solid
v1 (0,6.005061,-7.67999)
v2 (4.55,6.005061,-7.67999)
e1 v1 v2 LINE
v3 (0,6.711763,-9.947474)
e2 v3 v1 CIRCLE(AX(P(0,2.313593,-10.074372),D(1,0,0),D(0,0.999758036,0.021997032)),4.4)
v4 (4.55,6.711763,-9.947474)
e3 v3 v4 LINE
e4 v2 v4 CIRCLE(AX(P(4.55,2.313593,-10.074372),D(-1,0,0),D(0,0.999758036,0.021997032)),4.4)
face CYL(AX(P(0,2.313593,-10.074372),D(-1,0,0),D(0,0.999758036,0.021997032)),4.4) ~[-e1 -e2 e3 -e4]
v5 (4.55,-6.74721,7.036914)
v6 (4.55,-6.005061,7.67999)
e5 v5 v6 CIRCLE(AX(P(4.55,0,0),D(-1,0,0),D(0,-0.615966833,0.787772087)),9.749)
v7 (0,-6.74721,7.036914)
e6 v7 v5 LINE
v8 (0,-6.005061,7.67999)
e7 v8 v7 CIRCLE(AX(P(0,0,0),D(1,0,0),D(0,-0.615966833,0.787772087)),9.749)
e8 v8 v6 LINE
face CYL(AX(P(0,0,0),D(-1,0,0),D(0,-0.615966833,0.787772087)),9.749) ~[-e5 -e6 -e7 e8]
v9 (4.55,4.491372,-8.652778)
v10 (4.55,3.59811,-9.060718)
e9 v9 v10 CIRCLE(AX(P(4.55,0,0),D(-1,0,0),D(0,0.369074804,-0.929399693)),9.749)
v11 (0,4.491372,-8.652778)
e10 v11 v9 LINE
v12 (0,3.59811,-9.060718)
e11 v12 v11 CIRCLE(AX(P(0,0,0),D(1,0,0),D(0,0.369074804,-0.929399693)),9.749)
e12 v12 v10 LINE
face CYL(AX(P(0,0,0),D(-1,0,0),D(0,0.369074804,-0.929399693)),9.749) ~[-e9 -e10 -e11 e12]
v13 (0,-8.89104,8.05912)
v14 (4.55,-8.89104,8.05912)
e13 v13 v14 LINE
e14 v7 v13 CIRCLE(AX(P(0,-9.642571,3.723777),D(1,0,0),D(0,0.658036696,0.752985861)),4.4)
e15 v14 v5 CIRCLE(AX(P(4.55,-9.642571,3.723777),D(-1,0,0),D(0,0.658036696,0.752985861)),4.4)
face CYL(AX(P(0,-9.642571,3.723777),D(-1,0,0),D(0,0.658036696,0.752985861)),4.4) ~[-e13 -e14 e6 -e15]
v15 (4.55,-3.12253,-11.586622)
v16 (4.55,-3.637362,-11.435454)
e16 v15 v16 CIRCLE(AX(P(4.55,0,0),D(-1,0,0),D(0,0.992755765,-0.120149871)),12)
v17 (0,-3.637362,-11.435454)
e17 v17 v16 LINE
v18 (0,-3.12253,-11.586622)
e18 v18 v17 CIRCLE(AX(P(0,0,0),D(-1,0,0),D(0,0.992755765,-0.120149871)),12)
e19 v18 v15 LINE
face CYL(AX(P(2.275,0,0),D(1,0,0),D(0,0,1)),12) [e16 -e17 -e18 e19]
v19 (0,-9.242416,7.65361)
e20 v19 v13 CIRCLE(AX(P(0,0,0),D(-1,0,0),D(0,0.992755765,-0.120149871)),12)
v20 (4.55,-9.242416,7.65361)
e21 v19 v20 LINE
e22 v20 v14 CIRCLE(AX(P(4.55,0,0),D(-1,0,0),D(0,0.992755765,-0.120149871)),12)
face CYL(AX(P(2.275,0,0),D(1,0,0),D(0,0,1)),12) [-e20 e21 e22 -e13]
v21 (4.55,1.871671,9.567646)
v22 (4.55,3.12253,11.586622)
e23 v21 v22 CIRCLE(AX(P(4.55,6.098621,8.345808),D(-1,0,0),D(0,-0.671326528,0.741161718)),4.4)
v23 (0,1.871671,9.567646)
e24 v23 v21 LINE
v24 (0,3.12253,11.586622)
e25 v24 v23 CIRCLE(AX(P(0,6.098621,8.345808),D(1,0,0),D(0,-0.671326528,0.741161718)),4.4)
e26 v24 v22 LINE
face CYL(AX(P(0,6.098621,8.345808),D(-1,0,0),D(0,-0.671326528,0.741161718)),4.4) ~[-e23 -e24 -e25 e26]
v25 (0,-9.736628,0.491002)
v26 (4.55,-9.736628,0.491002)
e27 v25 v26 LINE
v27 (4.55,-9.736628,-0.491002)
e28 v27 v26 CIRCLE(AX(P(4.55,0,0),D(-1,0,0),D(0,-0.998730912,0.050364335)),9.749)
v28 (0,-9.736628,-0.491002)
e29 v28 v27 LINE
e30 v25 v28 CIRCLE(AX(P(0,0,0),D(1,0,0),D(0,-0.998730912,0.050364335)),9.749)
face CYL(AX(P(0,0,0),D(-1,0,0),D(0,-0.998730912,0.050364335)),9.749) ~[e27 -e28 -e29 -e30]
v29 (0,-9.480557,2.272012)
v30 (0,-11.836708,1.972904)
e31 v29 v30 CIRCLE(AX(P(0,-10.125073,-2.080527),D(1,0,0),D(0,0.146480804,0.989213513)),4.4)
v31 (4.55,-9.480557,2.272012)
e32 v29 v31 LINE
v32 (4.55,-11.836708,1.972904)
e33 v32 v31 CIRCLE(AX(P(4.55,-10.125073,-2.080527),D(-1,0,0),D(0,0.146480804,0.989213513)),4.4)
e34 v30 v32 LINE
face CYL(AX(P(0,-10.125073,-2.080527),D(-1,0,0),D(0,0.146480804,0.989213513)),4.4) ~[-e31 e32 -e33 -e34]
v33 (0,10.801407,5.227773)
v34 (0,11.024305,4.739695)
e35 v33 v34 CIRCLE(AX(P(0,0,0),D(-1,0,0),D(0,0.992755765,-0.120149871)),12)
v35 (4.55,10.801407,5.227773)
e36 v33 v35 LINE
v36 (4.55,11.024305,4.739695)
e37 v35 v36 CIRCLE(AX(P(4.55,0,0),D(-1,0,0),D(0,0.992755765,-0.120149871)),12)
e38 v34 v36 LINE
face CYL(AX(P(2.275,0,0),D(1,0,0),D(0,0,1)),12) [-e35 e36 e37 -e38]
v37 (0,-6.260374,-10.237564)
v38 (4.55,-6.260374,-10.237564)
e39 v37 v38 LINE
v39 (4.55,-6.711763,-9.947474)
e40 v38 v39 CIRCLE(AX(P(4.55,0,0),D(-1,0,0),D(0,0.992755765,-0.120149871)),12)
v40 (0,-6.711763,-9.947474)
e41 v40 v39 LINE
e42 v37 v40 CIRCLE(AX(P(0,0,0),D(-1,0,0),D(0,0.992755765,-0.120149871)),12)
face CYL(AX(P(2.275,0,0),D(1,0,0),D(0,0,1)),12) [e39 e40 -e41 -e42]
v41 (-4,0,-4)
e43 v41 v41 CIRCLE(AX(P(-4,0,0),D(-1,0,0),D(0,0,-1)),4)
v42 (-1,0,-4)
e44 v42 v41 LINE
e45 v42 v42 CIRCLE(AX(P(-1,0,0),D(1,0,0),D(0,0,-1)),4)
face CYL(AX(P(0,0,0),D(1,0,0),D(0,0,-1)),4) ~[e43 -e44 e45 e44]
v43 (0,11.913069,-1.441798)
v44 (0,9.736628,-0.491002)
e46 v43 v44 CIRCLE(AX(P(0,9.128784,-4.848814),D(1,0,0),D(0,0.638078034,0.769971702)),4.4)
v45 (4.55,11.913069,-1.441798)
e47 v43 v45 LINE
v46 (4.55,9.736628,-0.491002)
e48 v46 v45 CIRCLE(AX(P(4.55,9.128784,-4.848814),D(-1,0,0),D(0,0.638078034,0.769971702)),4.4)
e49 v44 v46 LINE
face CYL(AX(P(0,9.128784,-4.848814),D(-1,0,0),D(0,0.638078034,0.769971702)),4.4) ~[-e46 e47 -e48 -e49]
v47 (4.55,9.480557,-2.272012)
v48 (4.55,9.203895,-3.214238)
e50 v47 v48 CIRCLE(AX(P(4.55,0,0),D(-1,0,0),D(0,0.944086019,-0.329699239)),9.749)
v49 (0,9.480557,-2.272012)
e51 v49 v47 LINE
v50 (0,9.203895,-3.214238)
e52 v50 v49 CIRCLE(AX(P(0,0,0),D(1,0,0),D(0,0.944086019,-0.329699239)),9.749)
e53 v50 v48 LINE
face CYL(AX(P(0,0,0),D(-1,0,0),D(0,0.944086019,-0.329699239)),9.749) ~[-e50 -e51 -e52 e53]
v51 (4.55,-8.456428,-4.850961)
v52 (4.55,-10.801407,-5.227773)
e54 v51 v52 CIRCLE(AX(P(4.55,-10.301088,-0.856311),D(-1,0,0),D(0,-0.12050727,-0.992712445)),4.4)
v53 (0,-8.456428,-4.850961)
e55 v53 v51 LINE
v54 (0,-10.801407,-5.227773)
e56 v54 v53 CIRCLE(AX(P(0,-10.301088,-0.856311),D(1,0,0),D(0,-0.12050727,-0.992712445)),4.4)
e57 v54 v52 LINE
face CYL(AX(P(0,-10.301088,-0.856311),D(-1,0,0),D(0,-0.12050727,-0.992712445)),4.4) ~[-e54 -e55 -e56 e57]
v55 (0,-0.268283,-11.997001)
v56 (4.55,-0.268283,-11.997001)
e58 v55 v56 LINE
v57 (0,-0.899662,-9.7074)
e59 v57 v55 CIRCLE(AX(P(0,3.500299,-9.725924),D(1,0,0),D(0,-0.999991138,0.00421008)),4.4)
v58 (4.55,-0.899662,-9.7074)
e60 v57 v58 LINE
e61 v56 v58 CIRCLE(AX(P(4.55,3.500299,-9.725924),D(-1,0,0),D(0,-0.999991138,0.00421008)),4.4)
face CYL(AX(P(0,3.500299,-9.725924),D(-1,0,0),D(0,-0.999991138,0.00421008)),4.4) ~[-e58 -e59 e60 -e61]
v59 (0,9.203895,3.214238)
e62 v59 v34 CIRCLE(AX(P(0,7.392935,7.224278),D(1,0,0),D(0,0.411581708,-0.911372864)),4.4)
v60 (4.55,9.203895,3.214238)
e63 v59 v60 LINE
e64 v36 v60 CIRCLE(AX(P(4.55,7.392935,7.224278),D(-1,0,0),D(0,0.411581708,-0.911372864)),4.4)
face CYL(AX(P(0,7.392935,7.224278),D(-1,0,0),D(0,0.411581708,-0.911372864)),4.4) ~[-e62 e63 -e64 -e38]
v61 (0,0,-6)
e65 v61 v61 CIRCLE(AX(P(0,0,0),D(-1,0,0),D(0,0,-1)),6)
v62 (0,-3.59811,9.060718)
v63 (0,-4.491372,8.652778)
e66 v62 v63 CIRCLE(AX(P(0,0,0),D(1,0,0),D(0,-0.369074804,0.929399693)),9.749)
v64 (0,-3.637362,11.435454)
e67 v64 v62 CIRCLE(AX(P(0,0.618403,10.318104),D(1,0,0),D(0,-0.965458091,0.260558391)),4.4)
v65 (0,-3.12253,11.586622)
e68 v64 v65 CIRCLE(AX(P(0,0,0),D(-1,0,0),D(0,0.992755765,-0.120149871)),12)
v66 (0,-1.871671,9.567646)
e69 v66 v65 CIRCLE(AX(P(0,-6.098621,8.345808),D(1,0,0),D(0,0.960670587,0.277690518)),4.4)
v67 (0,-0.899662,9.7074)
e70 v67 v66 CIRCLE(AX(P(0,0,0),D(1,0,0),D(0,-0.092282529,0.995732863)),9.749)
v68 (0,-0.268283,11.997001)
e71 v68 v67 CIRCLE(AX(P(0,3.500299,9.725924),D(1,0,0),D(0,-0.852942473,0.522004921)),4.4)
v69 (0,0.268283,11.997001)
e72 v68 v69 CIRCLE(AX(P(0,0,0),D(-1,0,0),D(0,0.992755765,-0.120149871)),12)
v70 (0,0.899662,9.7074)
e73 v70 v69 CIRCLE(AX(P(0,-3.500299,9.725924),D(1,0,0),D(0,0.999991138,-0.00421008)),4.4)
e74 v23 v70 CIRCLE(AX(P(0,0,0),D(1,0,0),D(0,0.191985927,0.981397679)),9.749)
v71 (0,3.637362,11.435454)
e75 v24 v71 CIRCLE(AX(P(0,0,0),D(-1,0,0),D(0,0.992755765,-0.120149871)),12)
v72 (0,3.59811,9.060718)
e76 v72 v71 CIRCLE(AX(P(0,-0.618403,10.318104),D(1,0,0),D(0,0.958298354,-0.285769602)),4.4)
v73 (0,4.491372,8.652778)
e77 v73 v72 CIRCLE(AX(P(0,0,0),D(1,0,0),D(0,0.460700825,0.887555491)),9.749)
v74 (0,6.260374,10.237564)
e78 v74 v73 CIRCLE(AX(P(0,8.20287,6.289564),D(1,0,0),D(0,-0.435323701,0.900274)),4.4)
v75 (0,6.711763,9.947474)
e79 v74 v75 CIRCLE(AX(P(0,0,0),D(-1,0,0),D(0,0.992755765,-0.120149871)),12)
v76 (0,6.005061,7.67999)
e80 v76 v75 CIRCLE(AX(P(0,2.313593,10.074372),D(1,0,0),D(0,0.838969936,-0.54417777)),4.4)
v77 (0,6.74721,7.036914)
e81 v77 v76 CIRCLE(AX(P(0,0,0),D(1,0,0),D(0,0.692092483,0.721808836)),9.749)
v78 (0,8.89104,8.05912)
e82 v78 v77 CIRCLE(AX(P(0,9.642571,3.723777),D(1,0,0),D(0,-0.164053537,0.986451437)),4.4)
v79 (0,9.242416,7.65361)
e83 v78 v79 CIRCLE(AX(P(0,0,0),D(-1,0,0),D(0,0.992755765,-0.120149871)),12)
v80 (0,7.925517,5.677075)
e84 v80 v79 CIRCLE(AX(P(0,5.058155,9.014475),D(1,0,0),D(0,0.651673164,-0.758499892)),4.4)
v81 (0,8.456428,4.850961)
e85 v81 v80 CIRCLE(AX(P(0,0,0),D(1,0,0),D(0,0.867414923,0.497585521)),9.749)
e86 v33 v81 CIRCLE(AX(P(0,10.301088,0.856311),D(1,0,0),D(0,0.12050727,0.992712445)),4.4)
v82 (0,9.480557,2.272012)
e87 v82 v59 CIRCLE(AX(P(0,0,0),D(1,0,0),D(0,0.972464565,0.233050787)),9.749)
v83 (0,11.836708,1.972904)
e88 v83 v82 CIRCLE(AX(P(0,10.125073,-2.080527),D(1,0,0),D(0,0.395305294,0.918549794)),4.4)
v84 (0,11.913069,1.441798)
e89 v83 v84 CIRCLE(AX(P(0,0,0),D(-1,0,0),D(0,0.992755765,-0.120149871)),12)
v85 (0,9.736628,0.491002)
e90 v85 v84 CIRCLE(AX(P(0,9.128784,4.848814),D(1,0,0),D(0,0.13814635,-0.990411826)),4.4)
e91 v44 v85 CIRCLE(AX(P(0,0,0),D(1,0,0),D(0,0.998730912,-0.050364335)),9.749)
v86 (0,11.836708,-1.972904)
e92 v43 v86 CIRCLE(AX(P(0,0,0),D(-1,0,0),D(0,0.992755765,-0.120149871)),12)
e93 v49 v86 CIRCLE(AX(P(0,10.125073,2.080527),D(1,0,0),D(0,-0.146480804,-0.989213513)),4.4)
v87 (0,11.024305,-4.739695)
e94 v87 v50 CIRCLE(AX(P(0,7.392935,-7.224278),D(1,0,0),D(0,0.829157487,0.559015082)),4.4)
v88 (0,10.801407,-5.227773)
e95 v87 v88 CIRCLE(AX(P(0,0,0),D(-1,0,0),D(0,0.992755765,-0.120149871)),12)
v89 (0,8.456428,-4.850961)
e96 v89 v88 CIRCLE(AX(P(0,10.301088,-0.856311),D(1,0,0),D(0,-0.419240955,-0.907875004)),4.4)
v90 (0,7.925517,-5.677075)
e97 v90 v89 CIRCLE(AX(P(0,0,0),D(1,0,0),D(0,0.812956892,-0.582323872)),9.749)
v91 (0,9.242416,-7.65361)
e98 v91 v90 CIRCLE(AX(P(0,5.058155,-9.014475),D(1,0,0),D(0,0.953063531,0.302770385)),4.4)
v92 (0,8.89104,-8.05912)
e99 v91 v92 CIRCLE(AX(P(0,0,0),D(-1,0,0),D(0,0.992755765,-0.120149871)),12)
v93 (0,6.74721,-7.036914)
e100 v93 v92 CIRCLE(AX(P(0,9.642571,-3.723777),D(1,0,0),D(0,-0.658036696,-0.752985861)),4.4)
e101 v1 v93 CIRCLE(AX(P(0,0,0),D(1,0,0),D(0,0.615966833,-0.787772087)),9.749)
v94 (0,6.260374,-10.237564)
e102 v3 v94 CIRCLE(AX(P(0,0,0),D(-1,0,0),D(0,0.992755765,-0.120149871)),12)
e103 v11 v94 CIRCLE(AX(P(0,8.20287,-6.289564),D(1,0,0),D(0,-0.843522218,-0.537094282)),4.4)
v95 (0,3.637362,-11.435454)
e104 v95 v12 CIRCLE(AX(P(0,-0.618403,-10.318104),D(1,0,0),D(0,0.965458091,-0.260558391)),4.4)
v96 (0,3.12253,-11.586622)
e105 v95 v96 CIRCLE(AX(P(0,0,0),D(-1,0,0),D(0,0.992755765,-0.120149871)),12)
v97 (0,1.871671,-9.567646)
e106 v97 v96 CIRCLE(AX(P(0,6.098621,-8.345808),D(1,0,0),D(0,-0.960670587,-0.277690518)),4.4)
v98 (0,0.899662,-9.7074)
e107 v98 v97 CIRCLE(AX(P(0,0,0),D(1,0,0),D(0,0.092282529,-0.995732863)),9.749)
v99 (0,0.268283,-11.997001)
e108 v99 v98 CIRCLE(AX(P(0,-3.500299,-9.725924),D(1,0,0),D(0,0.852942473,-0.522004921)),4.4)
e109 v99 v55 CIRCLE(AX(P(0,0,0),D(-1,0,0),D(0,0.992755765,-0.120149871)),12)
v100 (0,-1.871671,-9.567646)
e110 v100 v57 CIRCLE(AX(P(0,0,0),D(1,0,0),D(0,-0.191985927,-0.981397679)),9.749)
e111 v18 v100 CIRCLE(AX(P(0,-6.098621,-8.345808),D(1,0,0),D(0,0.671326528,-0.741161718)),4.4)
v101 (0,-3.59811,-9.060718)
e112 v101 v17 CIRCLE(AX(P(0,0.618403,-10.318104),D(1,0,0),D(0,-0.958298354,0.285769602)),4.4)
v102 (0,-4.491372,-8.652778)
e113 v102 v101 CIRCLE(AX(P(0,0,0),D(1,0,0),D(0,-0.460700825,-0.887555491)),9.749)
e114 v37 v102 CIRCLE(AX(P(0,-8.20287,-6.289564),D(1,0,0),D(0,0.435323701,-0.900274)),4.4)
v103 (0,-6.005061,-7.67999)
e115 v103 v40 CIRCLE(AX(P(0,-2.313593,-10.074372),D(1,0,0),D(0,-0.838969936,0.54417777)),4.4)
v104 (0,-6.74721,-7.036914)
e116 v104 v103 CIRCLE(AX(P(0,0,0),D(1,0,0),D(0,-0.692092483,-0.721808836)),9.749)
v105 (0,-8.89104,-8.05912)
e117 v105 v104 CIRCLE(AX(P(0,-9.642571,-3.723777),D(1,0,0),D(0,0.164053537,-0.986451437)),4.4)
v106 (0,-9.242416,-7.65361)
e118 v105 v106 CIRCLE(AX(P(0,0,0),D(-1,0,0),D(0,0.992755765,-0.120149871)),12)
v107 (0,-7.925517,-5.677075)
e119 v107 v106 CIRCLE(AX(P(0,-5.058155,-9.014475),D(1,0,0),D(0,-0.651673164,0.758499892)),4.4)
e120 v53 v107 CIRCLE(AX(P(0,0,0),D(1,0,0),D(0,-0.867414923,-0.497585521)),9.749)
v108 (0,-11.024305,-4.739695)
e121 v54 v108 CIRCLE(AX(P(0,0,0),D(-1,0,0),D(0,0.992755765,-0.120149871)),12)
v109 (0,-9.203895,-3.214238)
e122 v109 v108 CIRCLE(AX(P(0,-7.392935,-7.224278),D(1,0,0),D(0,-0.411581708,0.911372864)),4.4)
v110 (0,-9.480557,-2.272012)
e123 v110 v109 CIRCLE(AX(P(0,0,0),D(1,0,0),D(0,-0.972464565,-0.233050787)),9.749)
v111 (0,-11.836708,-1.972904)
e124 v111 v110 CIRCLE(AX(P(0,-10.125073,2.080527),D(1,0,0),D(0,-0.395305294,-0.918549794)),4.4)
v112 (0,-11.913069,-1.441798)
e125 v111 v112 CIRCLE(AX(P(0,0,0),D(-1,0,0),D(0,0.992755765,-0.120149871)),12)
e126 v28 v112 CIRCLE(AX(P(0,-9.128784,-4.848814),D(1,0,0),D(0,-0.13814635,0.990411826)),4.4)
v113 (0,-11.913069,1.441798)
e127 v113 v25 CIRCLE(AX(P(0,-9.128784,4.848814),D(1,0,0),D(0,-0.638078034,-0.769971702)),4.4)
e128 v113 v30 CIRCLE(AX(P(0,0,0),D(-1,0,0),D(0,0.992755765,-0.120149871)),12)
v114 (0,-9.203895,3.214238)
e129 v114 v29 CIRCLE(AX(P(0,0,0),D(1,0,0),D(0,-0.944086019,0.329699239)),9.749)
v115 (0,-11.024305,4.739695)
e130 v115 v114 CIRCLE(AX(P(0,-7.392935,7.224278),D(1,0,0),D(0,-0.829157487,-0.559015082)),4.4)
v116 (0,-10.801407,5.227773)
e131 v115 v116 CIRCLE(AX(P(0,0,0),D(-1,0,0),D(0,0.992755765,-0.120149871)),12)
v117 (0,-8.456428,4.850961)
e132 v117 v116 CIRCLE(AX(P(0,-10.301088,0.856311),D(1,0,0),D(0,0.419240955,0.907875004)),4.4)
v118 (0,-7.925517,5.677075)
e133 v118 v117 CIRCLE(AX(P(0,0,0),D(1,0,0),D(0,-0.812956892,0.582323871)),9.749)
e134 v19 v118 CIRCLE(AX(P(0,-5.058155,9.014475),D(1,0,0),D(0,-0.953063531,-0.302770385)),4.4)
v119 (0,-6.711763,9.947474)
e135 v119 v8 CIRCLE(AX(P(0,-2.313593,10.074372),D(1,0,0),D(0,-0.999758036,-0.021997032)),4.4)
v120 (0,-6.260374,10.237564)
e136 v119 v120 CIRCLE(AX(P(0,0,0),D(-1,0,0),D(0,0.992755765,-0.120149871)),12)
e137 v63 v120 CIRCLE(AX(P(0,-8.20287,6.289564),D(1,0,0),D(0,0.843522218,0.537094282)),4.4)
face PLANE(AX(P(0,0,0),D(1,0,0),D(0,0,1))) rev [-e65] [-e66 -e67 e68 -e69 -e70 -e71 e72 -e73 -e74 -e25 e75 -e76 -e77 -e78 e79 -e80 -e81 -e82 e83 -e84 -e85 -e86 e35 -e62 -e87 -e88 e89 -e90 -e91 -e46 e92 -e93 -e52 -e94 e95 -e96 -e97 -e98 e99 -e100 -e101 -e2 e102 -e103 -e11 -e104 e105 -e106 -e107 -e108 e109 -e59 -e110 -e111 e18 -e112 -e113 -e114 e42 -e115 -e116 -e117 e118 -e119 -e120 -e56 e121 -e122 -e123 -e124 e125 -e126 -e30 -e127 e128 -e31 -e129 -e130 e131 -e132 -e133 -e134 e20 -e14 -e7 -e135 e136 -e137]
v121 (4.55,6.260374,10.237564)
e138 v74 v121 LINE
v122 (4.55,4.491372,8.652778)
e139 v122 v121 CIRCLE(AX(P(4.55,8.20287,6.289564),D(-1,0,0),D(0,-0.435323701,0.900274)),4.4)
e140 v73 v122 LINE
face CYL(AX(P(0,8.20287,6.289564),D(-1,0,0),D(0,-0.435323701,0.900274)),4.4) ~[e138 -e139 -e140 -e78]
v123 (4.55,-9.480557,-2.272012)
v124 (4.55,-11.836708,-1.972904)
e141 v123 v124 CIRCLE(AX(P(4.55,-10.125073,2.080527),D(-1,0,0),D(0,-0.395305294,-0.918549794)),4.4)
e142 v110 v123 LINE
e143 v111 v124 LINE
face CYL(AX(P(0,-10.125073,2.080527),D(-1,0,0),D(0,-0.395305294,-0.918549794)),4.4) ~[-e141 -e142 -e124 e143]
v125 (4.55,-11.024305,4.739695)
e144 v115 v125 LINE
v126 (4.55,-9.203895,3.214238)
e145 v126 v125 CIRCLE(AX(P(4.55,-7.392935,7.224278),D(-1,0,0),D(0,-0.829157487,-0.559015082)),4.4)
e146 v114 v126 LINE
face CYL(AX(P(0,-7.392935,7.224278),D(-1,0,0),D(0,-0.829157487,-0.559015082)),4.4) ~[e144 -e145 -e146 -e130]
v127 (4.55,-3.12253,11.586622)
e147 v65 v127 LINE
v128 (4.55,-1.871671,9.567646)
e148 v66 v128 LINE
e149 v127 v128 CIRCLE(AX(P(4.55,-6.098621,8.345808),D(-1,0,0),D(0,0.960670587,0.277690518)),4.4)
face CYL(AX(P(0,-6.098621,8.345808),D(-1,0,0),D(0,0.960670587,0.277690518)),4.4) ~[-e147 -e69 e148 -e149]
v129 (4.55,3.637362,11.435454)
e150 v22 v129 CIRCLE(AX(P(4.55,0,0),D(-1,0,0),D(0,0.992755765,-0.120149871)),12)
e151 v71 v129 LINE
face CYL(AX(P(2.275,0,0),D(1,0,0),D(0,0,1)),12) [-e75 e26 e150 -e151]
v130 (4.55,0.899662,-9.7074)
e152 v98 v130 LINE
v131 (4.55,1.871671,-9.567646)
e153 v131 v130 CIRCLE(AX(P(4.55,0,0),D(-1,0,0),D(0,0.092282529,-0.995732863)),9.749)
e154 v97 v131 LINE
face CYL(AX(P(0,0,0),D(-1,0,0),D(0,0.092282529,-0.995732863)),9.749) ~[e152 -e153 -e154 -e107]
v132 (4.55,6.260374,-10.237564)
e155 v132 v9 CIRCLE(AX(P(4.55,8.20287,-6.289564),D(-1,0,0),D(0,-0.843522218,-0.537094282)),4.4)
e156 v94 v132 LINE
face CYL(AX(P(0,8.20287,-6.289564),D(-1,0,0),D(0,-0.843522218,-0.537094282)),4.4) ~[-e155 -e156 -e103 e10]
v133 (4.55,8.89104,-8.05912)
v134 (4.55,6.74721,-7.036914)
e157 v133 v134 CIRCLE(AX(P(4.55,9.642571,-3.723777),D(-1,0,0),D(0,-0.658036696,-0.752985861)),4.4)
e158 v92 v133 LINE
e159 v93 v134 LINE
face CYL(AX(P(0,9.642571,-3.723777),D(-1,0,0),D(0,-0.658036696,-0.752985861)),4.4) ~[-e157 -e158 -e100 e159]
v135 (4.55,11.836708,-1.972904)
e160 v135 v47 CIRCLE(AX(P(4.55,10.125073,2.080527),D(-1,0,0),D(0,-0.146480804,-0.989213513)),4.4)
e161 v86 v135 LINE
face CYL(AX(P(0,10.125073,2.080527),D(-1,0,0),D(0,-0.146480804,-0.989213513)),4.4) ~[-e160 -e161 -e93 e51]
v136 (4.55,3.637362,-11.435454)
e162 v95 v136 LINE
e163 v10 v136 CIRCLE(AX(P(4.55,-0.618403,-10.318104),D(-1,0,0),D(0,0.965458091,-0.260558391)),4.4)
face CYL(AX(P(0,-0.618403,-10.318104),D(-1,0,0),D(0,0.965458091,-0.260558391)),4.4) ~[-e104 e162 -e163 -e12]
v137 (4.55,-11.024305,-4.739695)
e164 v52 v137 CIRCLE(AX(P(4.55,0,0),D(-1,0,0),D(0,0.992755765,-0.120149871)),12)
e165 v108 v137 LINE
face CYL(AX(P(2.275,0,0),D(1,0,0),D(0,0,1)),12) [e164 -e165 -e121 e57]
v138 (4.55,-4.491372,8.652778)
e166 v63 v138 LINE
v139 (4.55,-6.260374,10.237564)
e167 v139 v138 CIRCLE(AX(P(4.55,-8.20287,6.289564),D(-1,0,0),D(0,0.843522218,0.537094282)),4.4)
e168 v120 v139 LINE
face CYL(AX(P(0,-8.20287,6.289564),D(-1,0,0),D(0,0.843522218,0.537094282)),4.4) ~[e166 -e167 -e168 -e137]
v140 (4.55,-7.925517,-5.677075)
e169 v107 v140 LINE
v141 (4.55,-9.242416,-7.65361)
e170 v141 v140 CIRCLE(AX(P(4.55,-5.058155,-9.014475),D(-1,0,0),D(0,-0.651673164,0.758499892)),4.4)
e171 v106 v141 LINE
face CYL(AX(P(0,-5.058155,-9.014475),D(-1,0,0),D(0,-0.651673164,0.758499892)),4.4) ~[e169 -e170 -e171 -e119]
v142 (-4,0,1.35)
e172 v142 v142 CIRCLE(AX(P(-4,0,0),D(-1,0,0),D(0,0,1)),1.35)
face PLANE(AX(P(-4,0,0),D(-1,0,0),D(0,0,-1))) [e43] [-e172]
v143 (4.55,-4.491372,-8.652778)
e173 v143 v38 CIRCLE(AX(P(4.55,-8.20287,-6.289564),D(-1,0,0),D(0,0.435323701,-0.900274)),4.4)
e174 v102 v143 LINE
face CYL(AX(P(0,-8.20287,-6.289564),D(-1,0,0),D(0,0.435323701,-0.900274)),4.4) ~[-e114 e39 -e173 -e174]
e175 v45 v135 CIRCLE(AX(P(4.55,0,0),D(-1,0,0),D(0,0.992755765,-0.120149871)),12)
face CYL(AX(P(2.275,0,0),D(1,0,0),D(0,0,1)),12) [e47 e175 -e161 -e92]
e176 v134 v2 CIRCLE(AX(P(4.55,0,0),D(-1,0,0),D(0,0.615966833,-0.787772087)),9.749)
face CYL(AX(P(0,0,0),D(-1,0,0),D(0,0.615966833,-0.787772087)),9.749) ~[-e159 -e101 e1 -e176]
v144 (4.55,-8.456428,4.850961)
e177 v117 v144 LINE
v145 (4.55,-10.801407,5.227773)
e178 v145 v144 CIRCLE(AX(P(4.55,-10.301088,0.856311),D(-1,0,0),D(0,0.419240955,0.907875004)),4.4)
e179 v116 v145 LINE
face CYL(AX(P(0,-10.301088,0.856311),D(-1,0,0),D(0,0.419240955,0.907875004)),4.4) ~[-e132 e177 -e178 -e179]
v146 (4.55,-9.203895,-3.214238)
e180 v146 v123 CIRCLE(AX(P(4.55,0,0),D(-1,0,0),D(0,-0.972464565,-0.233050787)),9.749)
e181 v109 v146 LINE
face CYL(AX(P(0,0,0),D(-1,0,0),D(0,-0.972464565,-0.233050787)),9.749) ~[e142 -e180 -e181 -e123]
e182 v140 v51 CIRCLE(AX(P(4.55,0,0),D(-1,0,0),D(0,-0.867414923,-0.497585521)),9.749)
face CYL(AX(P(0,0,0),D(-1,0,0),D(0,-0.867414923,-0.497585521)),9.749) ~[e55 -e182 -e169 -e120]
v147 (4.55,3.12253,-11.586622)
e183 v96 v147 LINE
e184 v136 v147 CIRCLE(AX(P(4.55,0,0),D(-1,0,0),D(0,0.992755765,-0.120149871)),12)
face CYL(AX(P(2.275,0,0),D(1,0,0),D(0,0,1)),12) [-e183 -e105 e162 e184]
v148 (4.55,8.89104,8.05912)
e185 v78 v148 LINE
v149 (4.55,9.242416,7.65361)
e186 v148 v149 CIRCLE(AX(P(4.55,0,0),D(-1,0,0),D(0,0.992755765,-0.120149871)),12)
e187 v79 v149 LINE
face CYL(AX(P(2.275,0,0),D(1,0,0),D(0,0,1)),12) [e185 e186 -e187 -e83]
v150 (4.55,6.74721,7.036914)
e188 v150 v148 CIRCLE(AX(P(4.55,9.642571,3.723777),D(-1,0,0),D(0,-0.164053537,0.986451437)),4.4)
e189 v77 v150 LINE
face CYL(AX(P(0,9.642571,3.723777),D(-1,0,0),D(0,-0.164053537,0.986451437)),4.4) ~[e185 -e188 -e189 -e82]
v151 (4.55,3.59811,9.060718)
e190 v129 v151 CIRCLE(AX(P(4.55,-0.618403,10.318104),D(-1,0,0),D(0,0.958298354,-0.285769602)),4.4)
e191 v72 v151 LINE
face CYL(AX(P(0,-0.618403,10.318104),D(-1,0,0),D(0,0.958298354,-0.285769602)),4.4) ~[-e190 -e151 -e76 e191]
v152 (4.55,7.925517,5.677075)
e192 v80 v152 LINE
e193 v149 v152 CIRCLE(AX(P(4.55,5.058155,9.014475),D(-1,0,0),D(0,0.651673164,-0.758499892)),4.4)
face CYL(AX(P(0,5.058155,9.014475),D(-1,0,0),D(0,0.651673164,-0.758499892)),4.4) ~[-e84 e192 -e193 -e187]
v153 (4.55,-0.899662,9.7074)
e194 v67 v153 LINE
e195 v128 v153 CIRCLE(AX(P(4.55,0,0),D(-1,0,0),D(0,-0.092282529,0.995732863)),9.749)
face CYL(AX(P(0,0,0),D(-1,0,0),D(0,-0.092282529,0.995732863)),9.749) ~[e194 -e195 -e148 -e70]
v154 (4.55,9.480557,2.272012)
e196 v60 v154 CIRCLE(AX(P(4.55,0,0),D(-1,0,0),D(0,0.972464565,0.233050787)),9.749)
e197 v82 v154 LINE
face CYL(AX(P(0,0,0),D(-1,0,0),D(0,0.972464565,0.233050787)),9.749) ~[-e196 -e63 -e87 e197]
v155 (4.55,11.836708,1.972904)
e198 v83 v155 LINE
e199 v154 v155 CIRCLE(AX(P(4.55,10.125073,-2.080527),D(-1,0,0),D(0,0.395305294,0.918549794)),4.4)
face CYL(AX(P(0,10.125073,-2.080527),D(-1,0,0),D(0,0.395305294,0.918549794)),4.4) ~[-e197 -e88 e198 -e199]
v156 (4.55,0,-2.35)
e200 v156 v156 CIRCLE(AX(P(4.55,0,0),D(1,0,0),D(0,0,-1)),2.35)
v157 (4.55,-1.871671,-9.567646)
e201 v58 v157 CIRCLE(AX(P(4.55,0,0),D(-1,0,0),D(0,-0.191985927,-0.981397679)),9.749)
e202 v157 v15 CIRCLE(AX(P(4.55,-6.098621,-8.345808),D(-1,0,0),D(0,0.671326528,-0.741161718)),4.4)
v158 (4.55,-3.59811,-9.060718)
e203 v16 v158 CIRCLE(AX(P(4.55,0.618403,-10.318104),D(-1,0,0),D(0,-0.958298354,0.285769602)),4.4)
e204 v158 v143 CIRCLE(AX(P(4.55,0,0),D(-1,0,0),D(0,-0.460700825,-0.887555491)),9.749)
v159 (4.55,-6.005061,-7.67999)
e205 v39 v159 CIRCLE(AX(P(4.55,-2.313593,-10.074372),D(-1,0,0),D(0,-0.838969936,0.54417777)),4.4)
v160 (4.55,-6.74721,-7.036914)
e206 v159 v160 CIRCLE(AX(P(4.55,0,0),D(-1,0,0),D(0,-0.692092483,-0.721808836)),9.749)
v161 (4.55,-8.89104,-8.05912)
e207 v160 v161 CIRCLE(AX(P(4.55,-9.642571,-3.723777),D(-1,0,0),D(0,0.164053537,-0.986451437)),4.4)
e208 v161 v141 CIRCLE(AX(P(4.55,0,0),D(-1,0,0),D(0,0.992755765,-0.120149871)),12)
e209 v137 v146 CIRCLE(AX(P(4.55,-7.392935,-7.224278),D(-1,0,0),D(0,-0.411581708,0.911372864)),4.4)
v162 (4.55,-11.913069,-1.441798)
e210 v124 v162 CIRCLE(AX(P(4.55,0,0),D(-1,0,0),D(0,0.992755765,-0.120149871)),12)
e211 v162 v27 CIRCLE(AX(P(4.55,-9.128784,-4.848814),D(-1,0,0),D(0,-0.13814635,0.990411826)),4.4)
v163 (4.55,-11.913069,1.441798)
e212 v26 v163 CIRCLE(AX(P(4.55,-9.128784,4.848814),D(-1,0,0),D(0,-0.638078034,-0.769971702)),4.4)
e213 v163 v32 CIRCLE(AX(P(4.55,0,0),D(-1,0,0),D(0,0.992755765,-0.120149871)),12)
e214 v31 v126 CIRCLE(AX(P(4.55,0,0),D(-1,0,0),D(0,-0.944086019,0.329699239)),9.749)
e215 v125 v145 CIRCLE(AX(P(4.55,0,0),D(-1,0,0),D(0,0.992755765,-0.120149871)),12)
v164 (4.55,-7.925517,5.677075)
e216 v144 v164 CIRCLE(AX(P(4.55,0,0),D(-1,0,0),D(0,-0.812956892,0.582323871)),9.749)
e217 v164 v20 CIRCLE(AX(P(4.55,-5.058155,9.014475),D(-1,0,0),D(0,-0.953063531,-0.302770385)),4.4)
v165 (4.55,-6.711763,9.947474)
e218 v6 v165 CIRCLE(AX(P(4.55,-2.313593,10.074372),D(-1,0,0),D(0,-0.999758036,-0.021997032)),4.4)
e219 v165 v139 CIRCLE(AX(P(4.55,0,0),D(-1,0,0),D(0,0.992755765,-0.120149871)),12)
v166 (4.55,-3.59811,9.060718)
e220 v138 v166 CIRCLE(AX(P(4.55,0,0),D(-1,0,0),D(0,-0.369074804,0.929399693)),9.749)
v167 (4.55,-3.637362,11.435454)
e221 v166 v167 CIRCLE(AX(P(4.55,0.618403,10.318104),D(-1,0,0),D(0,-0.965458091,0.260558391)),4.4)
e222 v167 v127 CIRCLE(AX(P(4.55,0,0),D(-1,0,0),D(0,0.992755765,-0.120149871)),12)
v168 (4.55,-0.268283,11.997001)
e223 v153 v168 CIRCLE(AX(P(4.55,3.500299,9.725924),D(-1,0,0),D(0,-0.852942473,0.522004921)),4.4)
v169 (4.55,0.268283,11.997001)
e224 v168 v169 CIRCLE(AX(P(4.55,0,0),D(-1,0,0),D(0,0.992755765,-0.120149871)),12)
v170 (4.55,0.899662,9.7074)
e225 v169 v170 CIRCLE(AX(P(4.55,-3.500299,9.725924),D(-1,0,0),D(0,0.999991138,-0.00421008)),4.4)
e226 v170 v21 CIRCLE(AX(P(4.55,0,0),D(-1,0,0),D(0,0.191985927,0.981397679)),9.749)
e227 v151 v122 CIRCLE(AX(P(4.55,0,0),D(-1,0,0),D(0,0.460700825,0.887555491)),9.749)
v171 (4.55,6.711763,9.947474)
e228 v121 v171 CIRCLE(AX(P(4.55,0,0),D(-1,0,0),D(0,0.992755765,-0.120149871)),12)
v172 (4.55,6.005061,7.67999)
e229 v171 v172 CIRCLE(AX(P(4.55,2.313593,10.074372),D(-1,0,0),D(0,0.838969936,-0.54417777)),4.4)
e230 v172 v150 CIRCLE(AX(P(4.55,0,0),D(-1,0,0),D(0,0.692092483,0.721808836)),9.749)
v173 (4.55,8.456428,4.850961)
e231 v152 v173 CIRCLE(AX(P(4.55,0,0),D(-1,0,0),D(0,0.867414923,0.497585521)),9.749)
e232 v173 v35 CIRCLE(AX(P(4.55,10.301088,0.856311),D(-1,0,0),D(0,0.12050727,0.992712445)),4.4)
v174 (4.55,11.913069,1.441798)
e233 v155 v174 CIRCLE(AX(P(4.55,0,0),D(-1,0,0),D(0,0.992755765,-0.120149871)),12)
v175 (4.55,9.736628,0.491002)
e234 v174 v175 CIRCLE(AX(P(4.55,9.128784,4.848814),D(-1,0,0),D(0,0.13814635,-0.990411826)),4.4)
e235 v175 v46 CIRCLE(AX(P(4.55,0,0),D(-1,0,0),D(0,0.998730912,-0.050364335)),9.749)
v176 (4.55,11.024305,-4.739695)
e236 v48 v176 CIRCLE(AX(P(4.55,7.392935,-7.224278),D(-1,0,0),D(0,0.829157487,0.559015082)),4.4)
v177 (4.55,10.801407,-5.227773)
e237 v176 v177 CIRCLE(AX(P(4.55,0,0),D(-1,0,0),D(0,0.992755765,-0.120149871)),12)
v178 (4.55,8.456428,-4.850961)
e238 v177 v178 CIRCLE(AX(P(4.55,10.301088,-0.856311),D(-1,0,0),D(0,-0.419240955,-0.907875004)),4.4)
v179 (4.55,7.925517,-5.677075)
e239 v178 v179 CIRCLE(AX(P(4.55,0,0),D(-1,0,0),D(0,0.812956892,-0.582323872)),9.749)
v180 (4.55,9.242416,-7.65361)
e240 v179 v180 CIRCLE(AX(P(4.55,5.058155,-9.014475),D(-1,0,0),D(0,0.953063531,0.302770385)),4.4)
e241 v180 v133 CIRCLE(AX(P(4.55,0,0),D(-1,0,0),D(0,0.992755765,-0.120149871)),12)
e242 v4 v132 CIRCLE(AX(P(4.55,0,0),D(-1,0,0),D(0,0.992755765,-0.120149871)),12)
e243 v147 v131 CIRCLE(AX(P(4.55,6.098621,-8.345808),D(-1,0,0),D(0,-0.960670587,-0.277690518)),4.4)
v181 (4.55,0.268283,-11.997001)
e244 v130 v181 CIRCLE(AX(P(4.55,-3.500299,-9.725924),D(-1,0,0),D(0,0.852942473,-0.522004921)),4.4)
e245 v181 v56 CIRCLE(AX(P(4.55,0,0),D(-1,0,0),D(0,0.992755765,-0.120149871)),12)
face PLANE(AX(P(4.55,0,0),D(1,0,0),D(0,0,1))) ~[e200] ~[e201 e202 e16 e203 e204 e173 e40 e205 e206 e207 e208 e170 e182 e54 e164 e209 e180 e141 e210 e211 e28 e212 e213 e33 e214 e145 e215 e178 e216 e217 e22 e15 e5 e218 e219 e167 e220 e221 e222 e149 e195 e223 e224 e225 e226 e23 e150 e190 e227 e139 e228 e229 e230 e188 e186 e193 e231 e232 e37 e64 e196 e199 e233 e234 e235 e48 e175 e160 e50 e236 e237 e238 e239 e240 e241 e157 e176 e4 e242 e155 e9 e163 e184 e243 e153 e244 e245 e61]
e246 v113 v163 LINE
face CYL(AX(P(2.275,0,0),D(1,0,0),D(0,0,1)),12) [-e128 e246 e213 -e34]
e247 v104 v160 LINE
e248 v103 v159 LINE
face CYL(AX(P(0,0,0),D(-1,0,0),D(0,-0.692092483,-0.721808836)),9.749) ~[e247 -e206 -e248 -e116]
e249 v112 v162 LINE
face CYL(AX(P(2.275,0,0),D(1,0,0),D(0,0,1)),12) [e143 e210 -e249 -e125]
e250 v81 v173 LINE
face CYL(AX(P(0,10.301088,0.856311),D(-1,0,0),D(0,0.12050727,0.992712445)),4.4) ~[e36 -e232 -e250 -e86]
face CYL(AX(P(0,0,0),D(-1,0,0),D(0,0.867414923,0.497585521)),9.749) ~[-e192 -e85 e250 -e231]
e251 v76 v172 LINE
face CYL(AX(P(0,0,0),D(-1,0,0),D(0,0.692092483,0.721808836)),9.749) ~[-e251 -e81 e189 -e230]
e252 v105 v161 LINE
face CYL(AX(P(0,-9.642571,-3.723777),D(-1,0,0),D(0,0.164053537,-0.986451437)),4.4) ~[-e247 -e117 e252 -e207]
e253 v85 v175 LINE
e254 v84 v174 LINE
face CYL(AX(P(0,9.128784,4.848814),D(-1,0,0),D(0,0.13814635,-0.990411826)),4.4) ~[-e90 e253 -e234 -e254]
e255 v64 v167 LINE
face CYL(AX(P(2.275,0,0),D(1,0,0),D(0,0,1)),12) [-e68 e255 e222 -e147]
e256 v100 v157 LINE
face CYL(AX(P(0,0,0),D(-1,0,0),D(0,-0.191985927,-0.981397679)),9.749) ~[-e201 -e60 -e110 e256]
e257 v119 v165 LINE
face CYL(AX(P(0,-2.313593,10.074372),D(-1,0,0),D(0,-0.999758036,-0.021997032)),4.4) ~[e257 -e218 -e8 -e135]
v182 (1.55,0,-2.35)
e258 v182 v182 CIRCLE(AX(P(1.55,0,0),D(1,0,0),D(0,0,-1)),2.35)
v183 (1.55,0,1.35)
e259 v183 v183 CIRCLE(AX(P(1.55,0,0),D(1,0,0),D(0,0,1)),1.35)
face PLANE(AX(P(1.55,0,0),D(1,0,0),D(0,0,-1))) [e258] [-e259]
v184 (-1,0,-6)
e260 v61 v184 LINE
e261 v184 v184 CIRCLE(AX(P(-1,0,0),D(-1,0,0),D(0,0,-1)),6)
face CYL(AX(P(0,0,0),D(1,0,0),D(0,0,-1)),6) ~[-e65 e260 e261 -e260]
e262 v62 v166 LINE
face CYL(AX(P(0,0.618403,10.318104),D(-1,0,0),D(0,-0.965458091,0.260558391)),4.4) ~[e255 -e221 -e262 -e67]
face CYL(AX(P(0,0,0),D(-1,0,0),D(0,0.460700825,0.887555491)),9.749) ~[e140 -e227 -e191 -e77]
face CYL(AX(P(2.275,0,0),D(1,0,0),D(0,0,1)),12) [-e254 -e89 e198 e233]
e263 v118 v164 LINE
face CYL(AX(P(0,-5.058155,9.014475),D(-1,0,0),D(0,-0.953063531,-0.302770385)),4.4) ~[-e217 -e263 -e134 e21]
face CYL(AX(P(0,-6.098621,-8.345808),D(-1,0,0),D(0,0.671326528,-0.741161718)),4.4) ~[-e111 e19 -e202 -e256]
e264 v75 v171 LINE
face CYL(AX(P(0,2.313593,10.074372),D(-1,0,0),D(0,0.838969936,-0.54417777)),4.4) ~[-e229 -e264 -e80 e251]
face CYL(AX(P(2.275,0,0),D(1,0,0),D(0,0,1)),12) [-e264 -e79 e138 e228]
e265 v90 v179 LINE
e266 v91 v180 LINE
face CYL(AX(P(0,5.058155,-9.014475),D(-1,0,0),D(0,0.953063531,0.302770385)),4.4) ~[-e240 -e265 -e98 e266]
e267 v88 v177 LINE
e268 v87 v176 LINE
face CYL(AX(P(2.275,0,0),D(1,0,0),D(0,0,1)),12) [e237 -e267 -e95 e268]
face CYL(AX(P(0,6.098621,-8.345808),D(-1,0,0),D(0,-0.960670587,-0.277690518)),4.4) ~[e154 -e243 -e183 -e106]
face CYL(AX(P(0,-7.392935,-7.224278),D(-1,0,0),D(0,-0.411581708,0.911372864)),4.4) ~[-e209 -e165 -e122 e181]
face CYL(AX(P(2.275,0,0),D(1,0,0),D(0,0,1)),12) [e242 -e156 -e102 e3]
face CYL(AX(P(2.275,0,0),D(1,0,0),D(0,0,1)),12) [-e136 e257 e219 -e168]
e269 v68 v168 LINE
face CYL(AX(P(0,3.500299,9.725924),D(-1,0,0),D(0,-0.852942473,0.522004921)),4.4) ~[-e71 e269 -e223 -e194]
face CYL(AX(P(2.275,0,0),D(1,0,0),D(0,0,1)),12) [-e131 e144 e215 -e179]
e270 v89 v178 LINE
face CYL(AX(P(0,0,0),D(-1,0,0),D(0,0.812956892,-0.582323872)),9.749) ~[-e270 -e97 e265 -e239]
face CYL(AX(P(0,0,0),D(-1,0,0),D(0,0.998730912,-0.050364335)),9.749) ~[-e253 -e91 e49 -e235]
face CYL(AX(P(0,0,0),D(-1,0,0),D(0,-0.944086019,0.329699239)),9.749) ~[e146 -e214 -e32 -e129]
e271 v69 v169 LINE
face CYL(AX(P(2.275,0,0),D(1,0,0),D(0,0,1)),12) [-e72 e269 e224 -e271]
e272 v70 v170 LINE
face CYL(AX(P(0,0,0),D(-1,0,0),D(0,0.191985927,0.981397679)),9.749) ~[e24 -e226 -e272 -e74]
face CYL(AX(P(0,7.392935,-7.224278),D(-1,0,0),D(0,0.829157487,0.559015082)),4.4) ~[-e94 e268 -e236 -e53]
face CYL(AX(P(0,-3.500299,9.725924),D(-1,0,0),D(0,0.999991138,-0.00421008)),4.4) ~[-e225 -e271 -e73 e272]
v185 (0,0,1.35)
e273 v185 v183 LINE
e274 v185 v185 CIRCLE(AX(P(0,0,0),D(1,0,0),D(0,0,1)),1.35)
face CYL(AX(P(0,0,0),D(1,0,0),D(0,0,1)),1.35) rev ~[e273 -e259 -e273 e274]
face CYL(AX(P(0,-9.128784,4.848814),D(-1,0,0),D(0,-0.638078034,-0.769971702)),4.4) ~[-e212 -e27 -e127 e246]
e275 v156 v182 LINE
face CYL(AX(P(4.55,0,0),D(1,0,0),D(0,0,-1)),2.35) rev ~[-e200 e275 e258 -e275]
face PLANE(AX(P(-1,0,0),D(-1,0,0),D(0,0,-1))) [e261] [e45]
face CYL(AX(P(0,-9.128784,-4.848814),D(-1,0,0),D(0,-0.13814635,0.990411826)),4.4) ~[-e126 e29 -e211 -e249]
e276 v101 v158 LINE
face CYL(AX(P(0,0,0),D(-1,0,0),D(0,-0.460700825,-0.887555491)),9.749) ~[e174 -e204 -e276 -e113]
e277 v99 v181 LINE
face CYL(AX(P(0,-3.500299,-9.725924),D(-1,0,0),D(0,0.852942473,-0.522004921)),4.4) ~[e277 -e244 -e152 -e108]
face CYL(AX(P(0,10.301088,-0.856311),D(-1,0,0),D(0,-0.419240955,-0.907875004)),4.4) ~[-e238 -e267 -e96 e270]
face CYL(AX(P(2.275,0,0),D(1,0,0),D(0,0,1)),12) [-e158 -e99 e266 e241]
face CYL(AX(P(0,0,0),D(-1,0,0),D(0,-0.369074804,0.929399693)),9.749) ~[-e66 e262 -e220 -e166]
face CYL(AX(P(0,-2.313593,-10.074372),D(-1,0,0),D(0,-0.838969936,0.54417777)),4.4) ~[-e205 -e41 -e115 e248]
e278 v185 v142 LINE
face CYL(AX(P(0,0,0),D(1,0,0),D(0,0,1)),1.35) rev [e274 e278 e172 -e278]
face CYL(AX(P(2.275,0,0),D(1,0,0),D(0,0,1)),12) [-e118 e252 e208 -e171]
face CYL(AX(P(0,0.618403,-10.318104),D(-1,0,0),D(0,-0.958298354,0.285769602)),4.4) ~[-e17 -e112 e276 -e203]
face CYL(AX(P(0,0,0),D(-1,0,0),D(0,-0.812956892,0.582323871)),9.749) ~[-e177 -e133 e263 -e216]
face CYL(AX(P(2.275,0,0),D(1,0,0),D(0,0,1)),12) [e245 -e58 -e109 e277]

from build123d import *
from build123d.topology import SkipClean

# Parameters (mm, degrees)
BASPROSKE_W         = 4.55
BASPROSKE_H         = 12
TOOTHCUT_DEPTH      = 18.569931702
TEETHCUTS_COUNT     = 22
TEETHCUTS_ANGLE     = 343.636363636
BORSKE_R            = 1.35
BORE_DEPTH          = 50.0000508
SKETCH1_R           = 4
SKETCH1_R_2         = 1.35
BOSS_EXTRUDE1_DEPTH = 4
SKETCH1_4_R         = 6
SKETCH1_4_R_2       = 4
BOSS_EXTRUDE2_DEPTH = 1
SKETCH2_2_R         = 2.35
CUT_EXTRUDE1_DEPTH  = 3


with BuildPart() as part:
    # BasProSke → Base-Revolve (revolve)
    with BuildSketch(Plane(origin=(0, 0, 0), x_dir=(1, 0, 0), z_dir=(0, 1, 0))):
        with Locations((2.275, 6)):
            Rectangle(BASPROSKE_W, BASPROSKE_H)
    revolve(axis=Axis((-10, 0, 0), (1, 0, 0)))

    # TooCutSke → ToothCut (cut, through all)
    with BuildSketch(Plane(origin=(0, 0, 0), x_dir=(0, 0, -1), z_dir=(1, 0, 0))):
        with BuildLine():
            ThreePointArc((0.491001901, 9.736627657), (0, 9.749), (-0.491001901, 9.736627657))
            ThreePointArc((-0.491001901, 9.736627657), (-0.822824844, 10.904005344), (-1.46093845, 11.936327074))
            ThreePointArc((-1.46093845, 11.936327074), (0, 12.0254), (1.46093845, 11.936327074))
            ThreePointArc((1.46093845, 11.936327074), (0.822824844, 10.904005344), (0.491001901, 9.736627657))
        make_face()
    toothcut = extrude(amount=TOOTHCUT_DEPTH, mode=Mode.SUBTRACT)

    # TeethCuts: ToothCut ×22 about axis
    teethcuts_axis = Axis((-10, 0, 0), (1, 0, 0))
    for i in range(1, TEETHCUTS_COUNT):
        add(toothcut.rotate(teethcuts_axis, i * TEETHCUTS_ANGLE / (TEETHCUTS_COUNT - 1)), mode=Mode.SUBTRACT)

    # BorSke → Bore (cut, symmetric)
    with BuildSketch(Plane(origin=(0, 0, 0), x_dir=(0, 0, -1), z_dir=(1, 0, 0))):
        Circle(BORSKE_R)
    extrude(amount=BORE_DEPTH, both=True, mode=Mode.SUBTRACT)

    # Sketch1 → Boss-Extrude1 (add)
    with SkipClean():  # the faces are left unmerged after this step: merging them gives an invalid solid
        with BuildSketch(Plane.ZY):
            Circle(SKETCH1_R)
            Circle(SKETCH1_R_2, mode=Mode.SUBTRACT)
        extrude(amount=BOSS_EXTRUDE1_DEPTH)

    # Sketch1<4> → Boss-Extrude2 (add)
    with SkipClean():  # the faces are left unmerged after this step: merging them gives an invalid solid
        with BuildSketch(Plane.ZY):
            Circle(SKETCH1_4_R)
            Circle(SKETCH1_4_R_2, mode=Mode.SUBTRACT)
        extrude(amount=BOSS_EXTRUDE2_DEPTH)

    # Sketch2<2> → Cut-Extrude1 (cut)
    with SkipClean():  # the faces are left unmerged after this step: merging them gives an invalid solid
        with BuildSketch(Plane(origin=(4.55, 0, 0), x_dir=(0, 0, -1), z_dir=(1, 0, 0))):
            Circle(SKETCH2_2_R)
        extrude(amount=-CUT_EXTRUDE1_DEPTH, mode=Mode.SUBTRACT)


solid = part.part
